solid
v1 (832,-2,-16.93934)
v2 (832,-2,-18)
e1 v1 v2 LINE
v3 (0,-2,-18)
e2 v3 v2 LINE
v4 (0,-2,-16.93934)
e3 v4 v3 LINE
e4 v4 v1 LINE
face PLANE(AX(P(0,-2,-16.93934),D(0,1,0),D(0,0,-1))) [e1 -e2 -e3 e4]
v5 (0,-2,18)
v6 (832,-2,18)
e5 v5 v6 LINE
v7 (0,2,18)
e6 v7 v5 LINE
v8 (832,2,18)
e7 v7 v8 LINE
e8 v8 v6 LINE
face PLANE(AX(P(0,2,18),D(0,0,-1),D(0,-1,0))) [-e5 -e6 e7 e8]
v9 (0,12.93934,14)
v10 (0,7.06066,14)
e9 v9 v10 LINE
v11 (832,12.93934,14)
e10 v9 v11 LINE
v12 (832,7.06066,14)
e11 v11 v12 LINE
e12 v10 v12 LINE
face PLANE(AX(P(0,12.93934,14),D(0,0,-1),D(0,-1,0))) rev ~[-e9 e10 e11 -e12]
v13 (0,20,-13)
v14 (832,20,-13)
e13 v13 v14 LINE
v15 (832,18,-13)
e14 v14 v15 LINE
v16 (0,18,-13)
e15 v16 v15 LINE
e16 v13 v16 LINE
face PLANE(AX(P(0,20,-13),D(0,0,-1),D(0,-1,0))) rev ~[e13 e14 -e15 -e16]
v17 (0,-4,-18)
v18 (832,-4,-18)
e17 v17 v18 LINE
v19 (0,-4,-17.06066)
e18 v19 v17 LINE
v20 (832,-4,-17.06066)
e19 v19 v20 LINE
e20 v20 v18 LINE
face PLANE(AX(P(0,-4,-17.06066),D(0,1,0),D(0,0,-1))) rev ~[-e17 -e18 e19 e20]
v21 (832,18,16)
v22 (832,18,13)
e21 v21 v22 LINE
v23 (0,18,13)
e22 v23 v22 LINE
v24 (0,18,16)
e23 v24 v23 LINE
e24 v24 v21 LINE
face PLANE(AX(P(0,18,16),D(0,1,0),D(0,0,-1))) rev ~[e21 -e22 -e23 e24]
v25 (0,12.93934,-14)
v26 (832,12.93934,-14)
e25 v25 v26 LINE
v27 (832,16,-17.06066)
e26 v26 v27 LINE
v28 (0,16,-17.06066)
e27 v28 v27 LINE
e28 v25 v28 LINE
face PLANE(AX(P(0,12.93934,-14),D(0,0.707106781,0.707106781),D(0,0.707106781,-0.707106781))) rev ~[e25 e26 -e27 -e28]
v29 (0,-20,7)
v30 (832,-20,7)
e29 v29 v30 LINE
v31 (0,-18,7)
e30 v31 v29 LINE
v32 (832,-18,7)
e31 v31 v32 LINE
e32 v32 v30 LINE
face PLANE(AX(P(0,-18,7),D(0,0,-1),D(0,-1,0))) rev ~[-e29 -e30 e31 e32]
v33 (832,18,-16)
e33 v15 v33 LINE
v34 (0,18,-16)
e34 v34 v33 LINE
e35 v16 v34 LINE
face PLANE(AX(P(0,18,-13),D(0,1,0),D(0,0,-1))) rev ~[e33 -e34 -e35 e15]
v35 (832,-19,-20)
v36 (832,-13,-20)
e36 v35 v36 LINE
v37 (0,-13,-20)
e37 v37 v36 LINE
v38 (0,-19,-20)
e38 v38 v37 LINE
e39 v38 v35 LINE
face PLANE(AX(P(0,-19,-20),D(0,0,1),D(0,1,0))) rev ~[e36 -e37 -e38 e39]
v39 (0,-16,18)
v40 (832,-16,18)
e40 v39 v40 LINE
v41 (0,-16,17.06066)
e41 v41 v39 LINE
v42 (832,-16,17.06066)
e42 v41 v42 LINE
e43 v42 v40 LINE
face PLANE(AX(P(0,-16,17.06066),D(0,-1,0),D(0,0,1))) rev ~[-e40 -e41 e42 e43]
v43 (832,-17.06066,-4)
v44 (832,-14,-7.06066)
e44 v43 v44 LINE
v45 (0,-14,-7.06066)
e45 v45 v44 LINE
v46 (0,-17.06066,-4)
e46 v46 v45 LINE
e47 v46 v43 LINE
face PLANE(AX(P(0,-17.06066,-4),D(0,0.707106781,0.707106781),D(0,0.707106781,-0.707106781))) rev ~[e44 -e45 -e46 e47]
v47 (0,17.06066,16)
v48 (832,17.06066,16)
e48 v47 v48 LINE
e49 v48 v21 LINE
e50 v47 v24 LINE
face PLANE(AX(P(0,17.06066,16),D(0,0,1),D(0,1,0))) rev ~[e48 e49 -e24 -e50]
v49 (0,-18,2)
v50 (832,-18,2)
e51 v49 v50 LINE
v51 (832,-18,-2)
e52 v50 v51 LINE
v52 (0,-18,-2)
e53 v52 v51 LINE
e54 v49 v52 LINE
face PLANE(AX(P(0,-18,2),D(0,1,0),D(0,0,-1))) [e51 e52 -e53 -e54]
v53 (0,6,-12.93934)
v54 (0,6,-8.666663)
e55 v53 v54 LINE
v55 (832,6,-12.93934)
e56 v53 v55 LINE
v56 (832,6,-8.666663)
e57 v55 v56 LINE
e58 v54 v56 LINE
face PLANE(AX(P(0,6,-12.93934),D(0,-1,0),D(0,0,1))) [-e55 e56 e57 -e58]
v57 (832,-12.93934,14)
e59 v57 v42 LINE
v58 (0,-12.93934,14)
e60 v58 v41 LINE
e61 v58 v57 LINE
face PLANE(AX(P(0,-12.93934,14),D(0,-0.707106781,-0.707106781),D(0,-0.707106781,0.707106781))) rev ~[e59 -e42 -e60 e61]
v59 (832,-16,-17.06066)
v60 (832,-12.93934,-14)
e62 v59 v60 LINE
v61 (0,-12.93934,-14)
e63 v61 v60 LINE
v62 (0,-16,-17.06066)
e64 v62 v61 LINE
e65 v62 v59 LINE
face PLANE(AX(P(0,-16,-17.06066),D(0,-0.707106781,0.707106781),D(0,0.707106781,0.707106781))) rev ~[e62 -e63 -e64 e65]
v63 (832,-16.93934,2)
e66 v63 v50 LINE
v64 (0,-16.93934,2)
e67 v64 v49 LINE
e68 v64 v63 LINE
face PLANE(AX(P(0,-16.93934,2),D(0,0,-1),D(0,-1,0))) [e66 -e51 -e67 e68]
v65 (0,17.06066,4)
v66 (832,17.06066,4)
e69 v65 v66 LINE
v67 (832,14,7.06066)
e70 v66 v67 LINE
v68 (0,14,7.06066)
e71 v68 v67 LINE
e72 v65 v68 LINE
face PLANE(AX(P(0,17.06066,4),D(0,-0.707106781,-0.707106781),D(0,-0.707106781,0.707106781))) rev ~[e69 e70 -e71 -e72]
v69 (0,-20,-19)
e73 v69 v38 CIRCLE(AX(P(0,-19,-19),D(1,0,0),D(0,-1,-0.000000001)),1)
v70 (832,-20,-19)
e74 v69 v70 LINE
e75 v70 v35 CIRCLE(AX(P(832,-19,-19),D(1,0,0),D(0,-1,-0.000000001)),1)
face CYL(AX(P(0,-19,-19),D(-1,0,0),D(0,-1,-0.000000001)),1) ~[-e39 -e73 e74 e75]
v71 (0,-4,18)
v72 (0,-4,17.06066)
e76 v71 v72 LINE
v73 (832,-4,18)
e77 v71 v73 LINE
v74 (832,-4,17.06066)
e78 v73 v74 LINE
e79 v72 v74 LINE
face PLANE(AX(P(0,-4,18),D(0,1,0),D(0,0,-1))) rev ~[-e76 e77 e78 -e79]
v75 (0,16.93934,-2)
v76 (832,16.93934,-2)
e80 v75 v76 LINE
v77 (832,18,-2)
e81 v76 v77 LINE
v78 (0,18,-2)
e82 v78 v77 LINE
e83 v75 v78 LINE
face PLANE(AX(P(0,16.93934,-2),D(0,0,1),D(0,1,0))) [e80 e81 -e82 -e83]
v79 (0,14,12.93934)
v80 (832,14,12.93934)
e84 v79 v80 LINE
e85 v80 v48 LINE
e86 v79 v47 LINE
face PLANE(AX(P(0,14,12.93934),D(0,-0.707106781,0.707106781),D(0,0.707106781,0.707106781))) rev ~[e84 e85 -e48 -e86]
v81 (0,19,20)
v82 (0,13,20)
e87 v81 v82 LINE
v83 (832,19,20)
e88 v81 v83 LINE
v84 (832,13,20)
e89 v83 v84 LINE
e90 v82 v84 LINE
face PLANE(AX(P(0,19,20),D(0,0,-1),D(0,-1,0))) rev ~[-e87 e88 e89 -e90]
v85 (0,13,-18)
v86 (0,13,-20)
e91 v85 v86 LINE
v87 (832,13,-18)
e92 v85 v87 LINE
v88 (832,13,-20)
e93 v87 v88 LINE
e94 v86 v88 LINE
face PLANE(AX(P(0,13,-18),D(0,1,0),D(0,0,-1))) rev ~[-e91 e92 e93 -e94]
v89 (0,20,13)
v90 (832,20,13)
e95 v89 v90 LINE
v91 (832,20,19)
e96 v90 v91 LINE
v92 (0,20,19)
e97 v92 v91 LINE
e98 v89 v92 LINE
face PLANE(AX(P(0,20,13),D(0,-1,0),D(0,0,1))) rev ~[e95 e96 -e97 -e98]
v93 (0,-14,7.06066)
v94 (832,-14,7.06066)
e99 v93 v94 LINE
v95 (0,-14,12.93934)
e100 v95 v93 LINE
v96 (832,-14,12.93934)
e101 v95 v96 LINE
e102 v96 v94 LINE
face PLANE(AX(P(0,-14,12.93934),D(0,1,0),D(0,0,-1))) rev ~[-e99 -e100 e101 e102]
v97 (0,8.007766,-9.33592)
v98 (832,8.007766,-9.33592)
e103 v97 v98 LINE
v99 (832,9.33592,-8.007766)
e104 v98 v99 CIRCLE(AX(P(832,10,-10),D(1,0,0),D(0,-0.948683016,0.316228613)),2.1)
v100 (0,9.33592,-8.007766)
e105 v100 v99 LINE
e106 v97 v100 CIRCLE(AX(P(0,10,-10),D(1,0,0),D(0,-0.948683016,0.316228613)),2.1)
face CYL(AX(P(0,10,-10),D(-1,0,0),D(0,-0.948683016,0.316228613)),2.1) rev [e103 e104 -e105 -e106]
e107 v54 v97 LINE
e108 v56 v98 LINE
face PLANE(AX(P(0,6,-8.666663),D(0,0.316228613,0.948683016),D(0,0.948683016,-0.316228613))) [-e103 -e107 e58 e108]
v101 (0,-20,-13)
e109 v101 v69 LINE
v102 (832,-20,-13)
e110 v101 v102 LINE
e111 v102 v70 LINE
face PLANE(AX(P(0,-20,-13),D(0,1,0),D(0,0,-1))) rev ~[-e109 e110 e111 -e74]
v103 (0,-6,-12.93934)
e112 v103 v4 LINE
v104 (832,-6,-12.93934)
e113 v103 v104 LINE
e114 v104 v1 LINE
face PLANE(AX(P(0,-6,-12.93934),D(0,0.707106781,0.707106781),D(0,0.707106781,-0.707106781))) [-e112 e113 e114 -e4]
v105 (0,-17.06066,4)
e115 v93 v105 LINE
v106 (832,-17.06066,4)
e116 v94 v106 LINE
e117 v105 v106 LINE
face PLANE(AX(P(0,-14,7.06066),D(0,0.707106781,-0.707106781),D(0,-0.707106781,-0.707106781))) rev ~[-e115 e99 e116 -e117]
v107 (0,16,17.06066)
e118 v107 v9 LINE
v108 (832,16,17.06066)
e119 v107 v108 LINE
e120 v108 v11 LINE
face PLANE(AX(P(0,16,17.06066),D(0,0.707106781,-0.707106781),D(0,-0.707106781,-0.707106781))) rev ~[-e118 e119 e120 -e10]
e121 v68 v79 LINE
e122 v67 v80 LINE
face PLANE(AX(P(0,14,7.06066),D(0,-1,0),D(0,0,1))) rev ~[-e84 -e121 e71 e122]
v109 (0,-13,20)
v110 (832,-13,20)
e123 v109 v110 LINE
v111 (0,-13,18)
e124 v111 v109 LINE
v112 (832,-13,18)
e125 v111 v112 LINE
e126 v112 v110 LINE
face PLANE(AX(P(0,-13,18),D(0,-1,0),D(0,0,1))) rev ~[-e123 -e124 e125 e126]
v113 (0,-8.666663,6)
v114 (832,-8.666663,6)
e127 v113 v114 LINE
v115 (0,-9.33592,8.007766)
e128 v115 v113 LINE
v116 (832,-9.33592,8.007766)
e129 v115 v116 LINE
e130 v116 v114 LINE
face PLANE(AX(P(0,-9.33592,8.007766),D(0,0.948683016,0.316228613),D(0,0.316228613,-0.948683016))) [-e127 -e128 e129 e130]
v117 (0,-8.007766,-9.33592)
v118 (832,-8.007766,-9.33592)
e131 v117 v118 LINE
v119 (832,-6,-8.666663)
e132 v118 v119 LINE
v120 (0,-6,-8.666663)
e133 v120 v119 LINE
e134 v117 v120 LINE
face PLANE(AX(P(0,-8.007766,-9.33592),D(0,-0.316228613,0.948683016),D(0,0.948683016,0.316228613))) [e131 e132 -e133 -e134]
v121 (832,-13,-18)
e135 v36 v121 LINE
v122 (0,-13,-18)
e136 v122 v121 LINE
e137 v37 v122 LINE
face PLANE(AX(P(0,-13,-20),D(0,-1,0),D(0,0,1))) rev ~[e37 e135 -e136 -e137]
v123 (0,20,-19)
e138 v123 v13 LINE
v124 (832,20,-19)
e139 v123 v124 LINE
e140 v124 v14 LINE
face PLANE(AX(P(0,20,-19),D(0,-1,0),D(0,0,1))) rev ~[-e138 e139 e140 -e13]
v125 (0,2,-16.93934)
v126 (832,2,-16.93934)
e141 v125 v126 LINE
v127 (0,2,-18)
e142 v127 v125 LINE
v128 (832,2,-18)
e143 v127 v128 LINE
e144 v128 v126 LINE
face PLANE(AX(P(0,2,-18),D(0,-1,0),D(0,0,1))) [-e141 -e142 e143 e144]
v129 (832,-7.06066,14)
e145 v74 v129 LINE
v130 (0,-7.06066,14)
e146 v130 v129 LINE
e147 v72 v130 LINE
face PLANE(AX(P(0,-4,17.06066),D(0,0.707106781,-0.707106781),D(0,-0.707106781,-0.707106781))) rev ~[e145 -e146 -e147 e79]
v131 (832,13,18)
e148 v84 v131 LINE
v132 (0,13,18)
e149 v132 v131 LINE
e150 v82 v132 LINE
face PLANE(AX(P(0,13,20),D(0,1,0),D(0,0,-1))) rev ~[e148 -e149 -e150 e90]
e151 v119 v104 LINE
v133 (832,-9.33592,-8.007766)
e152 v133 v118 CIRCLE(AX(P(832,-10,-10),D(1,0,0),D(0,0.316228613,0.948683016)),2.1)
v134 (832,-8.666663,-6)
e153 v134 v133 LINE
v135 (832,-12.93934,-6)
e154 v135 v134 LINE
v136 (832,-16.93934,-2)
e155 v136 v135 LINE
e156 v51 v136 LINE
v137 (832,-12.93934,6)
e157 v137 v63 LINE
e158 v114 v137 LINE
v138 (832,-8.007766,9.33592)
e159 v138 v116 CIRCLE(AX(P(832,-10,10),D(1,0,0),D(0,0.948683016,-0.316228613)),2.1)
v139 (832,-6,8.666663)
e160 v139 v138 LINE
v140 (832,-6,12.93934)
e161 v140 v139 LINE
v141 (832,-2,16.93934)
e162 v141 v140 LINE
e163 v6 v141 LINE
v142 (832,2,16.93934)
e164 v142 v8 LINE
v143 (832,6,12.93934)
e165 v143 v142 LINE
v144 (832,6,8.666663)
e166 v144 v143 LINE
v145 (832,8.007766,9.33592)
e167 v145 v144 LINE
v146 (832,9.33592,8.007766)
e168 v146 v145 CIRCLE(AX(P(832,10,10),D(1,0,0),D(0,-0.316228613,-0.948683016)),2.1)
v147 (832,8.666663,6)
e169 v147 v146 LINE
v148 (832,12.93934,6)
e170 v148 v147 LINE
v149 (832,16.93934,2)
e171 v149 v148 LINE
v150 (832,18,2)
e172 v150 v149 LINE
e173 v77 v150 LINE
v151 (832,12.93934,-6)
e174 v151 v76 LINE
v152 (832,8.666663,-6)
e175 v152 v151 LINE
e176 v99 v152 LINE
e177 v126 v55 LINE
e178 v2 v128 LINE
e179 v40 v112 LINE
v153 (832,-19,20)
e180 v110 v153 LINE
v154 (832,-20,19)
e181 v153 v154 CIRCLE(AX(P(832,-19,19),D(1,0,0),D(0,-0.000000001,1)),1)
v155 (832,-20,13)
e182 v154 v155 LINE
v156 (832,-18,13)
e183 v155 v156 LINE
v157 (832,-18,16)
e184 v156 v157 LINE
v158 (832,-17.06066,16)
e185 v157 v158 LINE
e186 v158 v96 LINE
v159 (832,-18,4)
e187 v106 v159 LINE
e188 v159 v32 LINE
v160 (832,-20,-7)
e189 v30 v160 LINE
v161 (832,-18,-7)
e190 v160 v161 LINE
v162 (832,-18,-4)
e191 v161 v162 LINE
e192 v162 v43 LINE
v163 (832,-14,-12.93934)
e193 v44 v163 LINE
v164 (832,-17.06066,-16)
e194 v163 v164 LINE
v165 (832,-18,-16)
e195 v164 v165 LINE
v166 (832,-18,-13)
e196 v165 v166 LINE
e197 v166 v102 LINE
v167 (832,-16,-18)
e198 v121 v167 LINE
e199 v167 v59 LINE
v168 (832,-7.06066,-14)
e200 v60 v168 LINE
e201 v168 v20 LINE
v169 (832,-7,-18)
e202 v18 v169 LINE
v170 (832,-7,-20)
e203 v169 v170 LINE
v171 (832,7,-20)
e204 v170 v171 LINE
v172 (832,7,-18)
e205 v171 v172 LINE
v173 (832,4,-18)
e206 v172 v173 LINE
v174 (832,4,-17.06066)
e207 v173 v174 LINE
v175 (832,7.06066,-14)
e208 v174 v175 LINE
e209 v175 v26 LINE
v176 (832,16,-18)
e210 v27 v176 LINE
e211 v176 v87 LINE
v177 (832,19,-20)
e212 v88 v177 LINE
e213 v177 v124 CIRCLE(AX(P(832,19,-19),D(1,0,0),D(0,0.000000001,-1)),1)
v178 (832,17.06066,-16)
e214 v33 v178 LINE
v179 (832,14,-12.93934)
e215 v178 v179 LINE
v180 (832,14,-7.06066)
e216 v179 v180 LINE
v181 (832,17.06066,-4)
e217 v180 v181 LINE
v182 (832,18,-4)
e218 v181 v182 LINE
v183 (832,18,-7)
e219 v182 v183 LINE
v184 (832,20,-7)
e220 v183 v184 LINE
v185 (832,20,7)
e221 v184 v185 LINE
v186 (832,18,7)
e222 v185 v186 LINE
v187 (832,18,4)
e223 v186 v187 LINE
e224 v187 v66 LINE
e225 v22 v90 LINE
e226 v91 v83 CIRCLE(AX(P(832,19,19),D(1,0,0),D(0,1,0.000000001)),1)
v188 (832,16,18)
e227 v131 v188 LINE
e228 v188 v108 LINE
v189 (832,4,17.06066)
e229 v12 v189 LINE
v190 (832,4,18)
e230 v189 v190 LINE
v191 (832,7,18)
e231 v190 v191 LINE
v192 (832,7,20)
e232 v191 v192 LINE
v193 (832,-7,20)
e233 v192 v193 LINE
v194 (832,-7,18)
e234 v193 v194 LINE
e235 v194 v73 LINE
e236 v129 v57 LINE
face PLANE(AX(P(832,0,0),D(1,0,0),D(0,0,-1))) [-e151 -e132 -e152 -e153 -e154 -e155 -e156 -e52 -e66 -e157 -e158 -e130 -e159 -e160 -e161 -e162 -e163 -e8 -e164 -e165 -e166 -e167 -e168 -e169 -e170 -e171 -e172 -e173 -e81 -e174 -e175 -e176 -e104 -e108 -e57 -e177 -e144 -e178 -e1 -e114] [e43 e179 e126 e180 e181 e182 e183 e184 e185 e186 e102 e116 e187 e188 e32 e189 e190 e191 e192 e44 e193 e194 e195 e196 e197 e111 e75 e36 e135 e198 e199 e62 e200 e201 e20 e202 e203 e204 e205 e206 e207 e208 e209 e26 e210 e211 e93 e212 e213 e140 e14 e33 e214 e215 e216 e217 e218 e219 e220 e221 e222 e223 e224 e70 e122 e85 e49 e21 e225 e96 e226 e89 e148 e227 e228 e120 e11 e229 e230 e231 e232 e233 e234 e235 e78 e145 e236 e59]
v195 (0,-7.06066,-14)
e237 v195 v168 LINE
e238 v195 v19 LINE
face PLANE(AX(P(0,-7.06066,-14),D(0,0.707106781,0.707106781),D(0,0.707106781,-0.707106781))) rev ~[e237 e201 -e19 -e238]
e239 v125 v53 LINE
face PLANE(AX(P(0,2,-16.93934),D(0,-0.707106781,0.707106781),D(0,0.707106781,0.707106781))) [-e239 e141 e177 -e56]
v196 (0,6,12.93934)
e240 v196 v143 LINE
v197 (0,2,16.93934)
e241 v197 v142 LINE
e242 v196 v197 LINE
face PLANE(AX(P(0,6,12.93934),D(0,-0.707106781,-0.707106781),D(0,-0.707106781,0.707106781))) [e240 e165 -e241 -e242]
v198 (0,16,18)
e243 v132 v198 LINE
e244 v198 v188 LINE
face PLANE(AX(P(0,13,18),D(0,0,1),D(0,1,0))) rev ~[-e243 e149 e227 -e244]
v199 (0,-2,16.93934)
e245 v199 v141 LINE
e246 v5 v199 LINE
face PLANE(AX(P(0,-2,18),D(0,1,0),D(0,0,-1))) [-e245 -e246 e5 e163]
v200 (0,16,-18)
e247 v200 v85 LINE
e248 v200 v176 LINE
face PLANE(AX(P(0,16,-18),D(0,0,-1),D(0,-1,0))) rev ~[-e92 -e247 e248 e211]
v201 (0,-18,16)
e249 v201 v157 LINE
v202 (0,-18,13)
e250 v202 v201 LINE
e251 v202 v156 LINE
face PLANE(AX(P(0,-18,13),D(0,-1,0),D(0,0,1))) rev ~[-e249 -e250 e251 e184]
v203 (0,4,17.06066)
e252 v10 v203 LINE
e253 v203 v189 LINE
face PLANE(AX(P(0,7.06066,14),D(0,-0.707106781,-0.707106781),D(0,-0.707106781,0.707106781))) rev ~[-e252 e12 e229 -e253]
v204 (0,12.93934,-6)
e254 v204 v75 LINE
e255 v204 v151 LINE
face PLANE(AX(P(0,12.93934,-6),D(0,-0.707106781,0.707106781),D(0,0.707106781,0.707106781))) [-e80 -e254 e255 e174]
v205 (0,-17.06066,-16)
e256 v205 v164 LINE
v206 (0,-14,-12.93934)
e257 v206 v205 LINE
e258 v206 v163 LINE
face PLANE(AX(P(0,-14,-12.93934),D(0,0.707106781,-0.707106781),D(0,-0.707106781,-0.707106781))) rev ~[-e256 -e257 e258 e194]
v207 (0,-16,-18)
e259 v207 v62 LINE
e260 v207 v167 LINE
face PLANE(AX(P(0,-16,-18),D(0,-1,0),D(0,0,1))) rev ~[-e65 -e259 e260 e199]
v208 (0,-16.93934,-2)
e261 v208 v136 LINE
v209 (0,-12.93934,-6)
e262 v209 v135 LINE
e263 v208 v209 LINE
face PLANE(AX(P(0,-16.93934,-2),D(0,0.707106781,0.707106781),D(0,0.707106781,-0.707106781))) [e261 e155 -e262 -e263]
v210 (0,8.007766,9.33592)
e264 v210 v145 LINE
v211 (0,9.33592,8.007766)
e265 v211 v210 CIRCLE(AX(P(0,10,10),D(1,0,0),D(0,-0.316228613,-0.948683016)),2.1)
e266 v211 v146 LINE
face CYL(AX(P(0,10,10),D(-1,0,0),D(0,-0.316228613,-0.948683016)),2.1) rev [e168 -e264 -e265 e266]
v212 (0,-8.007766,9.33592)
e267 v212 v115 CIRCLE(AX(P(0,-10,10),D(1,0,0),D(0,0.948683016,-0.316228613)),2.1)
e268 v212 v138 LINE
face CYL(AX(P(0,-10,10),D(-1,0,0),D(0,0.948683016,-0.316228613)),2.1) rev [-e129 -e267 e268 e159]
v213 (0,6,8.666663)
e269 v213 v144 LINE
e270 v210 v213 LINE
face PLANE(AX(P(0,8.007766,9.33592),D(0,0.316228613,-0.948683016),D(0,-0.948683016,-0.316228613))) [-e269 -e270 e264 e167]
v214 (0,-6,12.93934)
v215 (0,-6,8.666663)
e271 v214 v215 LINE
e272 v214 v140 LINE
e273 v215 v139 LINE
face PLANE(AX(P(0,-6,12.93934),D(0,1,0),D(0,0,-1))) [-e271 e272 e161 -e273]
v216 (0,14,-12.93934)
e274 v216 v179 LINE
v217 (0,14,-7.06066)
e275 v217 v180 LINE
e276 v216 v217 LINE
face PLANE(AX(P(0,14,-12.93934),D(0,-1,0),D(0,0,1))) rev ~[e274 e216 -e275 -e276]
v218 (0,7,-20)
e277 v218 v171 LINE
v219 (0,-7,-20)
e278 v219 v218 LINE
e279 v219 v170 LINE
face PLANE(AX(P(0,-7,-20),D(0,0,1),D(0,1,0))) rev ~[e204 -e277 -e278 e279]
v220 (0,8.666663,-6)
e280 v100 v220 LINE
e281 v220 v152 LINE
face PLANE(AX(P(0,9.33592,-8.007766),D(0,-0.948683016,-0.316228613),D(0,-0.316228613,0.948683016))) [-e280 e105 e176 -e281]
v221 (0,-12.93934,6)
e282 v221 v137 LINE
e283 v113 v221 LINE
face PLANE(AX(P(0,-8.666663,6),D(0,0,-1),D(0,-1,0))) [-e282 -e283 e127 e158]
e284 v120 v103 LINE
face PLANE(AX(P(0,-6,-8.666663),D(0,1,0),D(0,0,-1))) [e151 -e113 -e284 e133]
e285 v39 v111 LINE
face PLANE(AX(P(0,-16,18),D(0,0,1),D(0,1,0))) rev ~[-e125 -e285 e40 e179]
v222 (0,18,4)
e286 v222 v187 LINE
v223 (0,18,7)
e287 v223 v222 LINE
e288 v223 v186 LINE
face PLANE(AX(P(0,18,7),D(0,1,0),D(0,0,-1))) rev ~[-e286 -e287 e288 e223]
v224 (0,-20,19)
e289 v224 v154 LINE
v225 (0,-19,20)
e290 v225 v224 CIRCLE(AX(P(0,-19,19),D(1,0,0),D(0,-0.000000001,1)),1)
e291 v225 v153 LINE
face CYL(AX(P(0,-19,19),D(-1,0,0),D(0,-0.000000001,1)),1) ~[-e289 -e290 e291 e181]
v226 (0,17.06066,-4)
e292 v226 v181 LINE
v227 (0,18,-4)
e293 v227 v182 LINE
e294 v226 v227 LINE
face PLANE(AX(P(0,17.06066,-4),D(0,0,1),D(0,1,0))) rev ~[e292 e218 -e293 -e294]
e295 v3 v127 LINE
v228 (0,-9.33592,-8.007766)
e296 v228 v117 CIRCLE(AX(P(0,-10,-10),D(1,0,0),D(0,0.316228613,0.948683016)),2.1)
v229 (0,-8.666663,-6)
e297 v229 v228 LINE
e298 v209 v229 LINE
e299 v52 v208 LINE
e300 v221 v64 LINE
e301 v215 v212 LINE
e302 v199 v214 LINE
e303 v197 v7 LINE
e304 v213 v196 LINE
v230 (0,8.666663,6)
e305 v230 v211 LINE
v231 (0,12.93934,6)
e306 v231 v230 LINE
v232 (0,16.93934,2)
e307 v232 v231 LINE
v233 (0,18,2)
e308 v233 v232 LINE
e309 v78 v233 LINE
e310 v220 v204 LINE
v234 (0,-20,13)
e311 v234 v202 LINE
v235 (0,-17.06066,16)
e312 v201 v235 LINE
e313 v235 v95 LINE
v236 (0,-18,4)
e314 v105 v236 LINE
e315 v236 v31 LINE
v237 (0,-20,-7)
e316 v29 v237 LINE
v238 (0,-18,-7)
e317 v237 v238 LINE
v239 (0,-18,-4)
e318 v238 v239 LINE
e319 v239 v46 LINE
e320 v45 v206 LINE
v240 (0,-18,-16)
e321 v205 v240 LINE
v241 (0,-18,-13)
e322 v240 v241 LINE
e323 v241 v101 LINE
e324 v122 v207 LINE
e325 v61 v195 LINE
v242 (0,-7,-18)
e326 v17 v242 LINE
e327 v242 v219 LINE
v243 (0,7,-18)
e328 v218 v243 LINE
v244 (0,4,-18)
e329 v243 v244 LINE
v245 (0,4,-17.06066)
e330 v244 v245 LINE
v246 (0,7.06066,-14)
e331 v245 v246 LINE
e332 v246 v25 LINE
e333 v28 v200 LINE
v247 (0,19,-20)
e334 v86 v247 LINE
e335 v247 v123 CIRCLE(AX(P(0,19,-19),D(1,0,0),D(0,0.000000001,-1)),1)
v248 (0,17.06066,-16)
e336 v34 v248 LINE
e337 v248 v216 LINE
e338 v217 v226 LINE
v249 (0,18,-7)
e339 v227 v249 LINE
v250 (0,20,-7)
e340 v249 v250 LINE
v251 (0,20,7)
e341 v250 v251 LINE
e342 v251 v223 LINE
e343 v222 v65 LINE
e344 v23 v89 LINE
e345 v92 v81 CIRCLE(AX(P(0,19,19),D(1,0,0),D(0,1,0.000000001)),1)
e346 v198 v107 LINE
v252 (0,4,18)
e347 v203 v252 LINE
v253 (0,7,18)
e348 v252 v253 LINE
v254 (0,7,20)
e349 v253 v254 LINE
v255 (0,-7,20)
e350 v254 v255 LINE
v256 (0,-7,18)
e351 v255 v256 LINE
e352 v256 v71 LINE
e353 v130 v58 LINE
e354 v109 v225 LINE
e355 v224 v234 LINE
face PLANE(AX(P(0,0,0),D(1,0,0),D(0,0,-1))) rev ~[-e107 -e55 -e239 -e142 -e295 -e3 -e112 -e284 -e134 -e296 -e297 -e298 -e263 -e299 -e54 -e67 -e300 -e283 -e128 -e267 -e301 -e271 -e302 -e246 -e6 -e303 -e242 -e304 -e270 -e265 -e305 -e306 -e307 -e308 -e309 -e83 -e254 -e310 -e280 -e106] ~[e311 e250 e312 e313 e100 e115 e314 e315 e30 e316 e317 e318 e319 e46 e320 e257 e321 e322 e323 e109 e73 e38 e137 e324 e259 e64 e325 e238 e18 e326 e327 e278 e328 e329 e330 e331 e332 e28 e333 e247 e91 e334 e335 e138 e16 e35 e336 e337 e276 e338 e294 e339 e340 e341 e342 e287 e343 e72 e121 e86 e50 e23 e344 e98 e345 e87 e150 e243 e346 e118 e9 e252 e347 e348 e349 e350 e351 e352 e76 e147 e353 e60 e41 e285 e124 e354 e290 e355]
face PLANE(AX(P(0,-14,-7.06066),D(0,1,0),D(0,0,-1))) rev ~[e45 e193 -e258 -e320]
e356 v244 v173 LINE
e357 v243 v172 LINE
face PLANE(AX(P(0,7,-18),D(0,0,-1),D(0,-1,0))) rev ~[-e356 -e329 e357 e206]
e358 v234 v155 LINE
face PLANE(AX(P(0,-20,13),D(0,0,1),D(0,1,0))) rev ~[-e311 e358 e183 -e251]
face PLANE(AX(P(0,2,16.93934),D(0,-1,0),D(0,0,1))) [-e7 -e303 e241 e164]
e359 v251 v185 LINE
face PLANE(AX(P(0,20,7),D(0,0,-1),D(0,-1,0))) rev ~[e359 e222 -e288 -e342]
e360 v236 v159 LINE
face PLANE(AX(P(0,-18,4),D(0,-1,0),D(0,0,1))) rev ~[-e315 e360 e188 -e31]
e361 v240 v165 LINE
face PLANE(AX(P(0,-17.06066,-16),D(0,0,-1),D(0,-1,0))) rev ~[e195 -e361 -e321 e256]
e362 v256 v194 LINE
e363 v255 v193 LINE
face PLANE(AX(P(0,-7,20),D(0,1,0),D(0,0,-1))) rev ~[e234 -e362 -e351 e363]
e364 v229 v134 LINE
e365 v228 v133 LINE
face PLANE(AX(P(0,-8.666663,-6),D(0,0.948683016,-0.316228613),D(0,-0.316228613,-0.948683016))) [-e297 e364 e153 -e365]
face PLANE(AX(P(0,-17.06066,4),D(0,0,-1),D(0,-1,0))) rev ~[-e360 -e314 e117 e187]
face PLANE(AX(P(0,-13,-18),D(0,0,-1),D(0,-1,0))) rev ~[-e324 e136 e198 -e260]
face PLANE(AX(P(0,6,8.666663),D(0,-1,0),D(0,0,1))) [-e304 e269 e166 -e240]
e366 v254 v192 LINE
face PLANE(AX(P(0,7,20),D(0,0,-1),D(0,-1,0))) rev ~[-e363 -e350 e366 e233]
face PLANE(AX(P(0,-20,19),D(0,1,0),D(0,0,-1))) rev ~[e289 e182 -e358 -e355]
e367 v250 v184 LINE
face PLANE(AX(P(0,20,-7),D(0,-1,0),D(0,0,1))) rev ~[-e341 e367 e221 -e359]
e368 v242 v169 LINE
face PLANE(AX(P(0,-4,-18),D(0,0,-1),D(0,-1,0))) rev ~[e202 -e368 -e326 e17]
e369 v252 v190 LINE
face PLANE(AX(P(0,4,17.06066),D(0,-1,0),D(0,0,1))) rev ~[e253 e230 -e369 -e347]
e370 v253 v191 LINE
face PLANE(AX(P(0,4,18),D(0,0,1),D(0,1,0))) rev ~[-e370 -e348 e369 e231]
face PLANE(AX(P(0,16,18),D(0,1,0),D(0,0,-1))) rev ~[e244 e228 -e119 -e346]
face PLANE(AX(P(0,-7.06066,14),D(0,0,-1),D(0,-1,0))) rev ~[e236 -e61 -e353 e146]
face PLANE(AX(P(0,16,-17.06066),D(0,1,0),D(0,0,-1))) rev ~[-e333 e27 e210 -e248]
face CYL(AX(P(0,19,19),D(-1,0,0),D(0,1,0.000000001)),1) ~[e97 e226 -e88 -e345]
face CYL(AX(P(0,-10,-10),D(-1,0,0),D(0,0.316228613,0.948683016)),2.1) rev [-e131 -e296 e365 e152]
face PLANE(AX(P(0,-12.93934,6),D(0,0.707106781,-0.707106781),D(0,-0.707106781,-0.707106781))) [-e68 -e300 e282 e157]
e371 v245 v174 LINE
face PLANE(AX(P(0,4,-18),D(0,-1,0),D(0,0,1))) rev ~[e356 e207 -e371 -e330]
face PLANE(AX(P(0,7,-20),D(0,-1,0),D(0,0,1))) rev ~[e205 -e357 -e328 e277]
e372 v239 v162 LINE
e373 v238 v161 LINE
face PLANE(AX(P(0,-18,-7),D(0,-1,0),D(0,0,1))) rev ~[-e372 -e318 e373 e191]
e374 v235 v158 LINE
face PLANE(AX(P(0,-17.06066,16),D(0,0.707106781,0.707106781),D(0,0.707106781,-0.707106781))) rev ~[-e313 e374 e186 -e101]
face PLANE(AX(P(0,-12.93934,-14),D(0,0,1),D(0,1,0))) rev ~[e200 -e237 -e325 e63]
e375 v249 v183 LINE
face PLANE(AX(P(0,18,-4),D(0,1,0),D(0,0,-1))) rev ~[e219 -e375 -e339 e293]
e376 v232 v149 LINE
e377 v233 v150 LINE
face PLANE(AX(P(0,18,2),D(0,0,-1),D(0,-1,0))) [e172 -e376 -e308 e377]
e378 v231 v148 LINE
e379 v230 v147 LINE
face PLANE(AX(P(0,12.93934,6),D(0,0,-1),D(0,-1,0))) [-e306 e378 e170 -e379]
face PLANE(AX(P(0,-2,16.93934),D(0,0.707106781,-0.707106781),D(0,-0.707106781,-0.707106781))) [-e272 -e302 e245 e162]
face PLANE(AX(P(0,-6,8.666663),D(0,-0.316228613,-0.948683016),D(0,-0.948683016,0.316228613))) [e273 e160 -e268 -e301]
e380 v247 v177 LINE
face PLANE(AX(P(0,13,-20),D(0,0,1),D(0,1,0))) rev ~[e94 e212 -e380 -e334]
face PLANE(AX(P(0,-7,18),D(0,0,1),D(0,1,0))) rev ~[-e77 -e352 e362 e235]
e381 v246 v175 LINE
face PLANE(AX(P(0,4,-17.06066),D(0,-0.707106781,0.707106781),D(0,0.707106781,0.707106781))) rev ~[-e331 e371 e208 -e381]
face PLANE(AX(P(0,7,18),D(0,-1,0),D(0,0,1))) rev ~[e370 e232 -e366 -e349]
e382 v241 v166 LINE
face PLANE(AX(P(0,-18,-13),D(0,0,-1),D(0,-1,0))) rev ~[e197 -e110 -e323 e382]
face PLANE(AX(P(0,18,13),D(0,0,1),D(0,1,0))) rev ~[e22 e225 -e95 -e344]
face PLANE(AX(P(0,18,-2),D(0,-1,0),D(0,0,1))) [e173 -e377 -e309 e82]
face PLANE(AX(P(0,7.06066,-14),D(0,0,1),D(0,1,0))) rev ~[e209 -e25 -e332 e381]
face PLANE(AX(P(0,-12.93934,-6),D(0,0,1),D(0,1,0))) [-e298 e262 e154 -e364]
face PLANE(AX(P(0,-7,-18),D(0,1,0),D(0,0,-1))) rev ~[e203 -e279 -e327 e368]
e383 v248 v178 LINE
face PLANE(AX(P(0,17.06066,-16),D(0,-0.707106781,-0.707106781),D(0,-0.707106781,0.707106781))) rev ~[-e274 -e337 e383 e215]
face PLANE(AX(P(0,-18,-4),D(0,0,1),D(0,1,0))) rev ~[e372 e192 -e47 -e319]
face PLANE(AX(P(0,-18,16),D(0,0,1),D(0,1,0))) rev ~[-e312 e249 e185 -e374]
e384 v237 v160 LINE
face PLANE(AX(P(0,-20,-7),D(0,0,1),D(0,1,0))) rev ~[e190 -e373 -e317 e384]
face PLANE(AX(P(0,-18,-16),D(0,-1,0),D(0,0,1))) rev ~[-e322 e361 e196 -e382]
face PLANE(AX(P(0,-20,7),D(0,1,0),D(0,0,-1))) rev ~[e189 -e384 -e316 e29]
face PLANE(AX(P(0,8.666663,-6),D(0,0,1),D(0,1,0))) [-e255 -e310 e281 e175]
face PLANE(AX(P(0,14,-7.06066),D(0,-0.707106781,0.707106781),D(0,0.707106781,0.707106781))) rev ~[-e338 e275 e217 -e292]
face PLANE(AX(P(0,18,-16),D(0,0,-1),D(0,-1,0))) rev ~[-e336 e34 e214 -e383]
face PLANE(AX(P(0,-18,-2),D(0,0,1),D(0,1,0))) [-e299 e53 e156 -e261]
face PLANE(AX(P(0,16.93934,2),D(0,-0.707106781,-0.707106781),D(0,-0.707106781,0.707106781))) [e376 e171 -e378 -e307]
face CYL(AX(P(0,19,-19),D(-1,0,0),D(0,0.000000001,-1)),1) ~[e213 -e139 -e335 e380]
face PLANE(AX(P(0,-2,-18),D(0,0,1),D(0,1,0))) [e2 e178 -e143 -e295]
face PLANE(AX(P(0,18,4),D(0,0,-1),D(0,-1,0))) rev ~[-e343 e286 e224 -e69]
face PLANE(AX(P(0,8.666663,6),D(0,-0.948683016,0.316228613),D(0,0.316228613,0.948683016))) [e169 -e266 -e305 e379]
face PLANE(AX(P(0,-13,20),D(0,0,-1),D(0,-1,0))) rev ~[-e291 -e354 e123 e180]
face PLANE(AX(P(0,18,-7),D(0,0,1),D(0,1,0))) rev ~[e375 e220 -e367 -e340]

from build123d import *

# Parameters (mm, degrees)
BOSS_EXTRUDE1_DEPTH = 832


with BuildPart() as part:
    # Sketch1 → Boss-Extrude1 (new body)
    with BuildSketch(Plane(origin=(0, 0, 0), x_dir=(0, 0, -1), z_dir=(1, 0, 0))):
        with BuildLine():
            Line((-20, 19), (-20, 13))
            Line((-20, 13), (-18, 13))
            Line((-18, 13), (-18, 16))
            Line((-18, 16), (-17.060660172, 16))
            Line((-17.060660172, 16), (-14, 12.939339828))
            Line((-14, 12.939339828), (-14, 7.060660172))
            Line((-14, 7.060660172), (-17.060660172, 4))
            Line((-17.060660172, 4), (-18, 4))
            Line((-18, 4), (-18, 7))
            Line((-18, 7), (-20, 7))
            Line((-20, 7), (-20, -7))
            Line((-20, -7), (-18, -7))
            Line((-18, -7), (-18, -4))
            Line((-18, -4), (-17.060660172, -4))
            Line((-17.060660172, -4), (-14, -7.060660172))
            Line((-14, -7.060660172), (-14, -12.939339828))
            Line((-14, -12.939339828), (-17.060660172, -16))
            Line((-17.060660172, -16), (-18, -16))
            Line((-18, -16), (-18, -13))
            Line((-18, -13), (-20, -13))
            Line((-20, -13), (-20, -19))
            ThreePointArc((-20, -19), (-19.707106781, -19.707106781), (-19, -20))
            Line((-19, -20), (-13, -20))
            Line((-13, -20), (-13, -18))
            Line((-13, -18), (-16, -18))
            Line((-16, -18), (-16, -17.060660172))
            Line((-16, -17.060660172), (-12.939339828, -14))
            Line((-12.939339828, -14), (-7.060660172, -14))
            Line((-7.060660172, -14), (-4, -17.060660172))
            Line((-4, -17.060660172), (-4, -18))
            Line((-4, -18), (-7, -18))
            Line((-7, -18), (-7, -20))
            Line((-7, -20), (7, -20))
            Line((7, -20), (7, -18))
            Line((7, -18), (4, -18))
            Line((4, -18), (4, -17.060660172))
            Line((4, -17.060660172), (7.060660172, -14))
            Line((7.060660172, -14), (12.939339828, -14))
            Line((12.939339828, -14), (16, -17.060660172))
            Line((16, -17.060660172), (16, -18))
            Line((16, -18), (13, -18))
            Line((13, -18), (13, -20))
            Line((13, -20), (19, -20))
            ThreePointArc((19, -20), (19.707106781, -19.707106781), (20, -19))
            Line((20, -19), (20, -13))
            Line((20, -13), (18, -13))
            Line((18, -13), (18, -16))
            Line((18, -16), (17.060660172, -16))
            Line((17.060660172, -16), (14, -12.939339828))
            Line((14, -12.939339828), (14, -7.060660172))
            Line((14, -7.060660172), (17.060660172, -4))
            Line((17.060660172, -4), (18, -4))
            Line((18, -4), (18, -7))
            Line((18, -7), (20, -7))
            Line((20, -7), (20, 7))
            Line((20, 7), (18, 7))
            Line((18, 7), (18, 4))
            Line((18, 4), (17.060660172, 4))
            Line((17.060660172, 4), (14, 7.060660172))
            Line((14, 7.060660172), (14, 12.939339828))
            Line((14, 12.939339828), (17.060660172, 16))
            Line((17.060660172, 16), (18, 16))
            Line((18, 16), (18, 13))
            Line((18, 13), (20, 13))
            Line((20, 13), (20, 19))
            ThreePointArc((20, 19), (19.707106781, 19.707106781), (19, 20))
            Line((19, 20), (13, 20))
            Line((13, 20), (13, 18))
            Line((13, 18), (16, 18))
            Line((16, 18), (16, 17.060660172))
            Line((16, 17.060660172), (12.939339828, 14))
            Line((12.939339828, 14), (7.060660172, 14))
            Line((7.060660172, 14), (4, 17.060660172))
            Line((4, 17.060660172), (4, 18))
            Line((4, 18), (7, 18))
            Line((7, 18), (7, 20))
            Line((7, 20), (-7, 20))
            Line((-7, 20), (-7, 18))
            Line((-7, 18), (-4, 18))
            Line((-4, 18), (-4, 17.060660172))
            Line((-4, 17.060660172), (-7.060660172, 14))
            Line((-7.060660172, 14), (-12.939339828, 14))
            Line((-12.939339828, 14), (-16, 17.060660172))
            Line((-16, 17.060660172), (-16, 18))
            Line((-16, 18), (-13, 18))
            Line((-13, 18), (-13, 20))
            Line((-13, 20), (-19, 20))
            ThreePointArc((-19, 20), (-19.707106781, 19.707106781), (-20, 19))
        make_face()
        with BuildLine():
            Line((-16.939339828, 2), (-18, 2))
            Line((-18, 2), (-18, -2))
            Line((-18, -2), (-16.939339828, -2))
            Line((-16.939339828, -2), (-12.939339828, -6))
            Line((-12.939339828, -6), (-8.666662697, -6))
            Line((-8.666662697, -6), (-9.335919912, -8.007765667))
            ThreePointArc((-9.335919912, -8.007765667), (-11.48492424, -11.48492424), (-8.007765667, -9.335919912))
            Line((-8.007765667, -9.335919912), (-6, -8.666662697))
            Line((-6, -8.666662697), (-6, -12.939339828))
            Line((-6, -12.939339828), (-2, -16.939339828))
            Line((-2, -16.939339828), (-2, -18))
            Line((-2, -18), (2, -18))
            Line((2, -18), (2, -16.939339828))
            Line((2, -16.939339828), (6, -12.939339828))
            Line((6, -12.939339828), (6, -8.666662697))
            Line((6, -8.666662697), (8.007765667, -9.335919912))
            ThreePointArc((8.007765667, -9.335919912), (11.48492424, -11.48492424), (9.335919912, -8.007765667))
            Line((9.335919912, -8.007765667), (8.666662697, -6))
            Line((8.666662697, -6), (12.939339828, -6))
            Line((12.939339828, -6), (16.939339828, -2))
            Line((16.939339828, -2), (18, -2))
            Line((18, -2), (18, 2))
            Line((18, 2), (16.939339828, 2))
            Line((16.939339828, 2), (12.939339828, 6))
            Line((12.939339828, 6), (8.666662697, 6))
            Line((8.666662697, 6), (9.335919912, 8.007765667))
            ThreePointArc((9.335919912, 8.007765667), (11.48492424, 11.48492424), (8.007765667, 9.335919912))
            Line((8.007765667, 9.335919912), (6, 8.666662697))
            Line((6, 8.666662697), (6, 12.939339828))
            Line((6, 12.939339828), (2, 16.939339828))
            Line((2, 16.939339828), (2, 18))
            Line((2, 18), (-2, 18))
            Line((-2, 18), (-2, 16.939339828))
            Line((-2, 16.939339828), (-6, 12.939339828))
            Line((-6, 12.939339828), (-6, 8.666662697))
            Line((-6, 8.666662697), (-8.007765667, 9.335919912))
            ThreePointArc((-8.007765667, 9.335919912), (-11.48492424, 11.48492424), (-9.335919912, 8.007765667))
            Line((-9.335919912, 8.007765667), (-8.666662697, 6))
            Line((-8.666662697, 6), (-12.939339828, 6))
            Line((-12.939339828, 6), (-16.939339828, 2))
        make_face(mode=Mode.SUBTRACT)
    extrude(amount=BOSS_EXTRUDE1_DEPTH)


solid = part.part
